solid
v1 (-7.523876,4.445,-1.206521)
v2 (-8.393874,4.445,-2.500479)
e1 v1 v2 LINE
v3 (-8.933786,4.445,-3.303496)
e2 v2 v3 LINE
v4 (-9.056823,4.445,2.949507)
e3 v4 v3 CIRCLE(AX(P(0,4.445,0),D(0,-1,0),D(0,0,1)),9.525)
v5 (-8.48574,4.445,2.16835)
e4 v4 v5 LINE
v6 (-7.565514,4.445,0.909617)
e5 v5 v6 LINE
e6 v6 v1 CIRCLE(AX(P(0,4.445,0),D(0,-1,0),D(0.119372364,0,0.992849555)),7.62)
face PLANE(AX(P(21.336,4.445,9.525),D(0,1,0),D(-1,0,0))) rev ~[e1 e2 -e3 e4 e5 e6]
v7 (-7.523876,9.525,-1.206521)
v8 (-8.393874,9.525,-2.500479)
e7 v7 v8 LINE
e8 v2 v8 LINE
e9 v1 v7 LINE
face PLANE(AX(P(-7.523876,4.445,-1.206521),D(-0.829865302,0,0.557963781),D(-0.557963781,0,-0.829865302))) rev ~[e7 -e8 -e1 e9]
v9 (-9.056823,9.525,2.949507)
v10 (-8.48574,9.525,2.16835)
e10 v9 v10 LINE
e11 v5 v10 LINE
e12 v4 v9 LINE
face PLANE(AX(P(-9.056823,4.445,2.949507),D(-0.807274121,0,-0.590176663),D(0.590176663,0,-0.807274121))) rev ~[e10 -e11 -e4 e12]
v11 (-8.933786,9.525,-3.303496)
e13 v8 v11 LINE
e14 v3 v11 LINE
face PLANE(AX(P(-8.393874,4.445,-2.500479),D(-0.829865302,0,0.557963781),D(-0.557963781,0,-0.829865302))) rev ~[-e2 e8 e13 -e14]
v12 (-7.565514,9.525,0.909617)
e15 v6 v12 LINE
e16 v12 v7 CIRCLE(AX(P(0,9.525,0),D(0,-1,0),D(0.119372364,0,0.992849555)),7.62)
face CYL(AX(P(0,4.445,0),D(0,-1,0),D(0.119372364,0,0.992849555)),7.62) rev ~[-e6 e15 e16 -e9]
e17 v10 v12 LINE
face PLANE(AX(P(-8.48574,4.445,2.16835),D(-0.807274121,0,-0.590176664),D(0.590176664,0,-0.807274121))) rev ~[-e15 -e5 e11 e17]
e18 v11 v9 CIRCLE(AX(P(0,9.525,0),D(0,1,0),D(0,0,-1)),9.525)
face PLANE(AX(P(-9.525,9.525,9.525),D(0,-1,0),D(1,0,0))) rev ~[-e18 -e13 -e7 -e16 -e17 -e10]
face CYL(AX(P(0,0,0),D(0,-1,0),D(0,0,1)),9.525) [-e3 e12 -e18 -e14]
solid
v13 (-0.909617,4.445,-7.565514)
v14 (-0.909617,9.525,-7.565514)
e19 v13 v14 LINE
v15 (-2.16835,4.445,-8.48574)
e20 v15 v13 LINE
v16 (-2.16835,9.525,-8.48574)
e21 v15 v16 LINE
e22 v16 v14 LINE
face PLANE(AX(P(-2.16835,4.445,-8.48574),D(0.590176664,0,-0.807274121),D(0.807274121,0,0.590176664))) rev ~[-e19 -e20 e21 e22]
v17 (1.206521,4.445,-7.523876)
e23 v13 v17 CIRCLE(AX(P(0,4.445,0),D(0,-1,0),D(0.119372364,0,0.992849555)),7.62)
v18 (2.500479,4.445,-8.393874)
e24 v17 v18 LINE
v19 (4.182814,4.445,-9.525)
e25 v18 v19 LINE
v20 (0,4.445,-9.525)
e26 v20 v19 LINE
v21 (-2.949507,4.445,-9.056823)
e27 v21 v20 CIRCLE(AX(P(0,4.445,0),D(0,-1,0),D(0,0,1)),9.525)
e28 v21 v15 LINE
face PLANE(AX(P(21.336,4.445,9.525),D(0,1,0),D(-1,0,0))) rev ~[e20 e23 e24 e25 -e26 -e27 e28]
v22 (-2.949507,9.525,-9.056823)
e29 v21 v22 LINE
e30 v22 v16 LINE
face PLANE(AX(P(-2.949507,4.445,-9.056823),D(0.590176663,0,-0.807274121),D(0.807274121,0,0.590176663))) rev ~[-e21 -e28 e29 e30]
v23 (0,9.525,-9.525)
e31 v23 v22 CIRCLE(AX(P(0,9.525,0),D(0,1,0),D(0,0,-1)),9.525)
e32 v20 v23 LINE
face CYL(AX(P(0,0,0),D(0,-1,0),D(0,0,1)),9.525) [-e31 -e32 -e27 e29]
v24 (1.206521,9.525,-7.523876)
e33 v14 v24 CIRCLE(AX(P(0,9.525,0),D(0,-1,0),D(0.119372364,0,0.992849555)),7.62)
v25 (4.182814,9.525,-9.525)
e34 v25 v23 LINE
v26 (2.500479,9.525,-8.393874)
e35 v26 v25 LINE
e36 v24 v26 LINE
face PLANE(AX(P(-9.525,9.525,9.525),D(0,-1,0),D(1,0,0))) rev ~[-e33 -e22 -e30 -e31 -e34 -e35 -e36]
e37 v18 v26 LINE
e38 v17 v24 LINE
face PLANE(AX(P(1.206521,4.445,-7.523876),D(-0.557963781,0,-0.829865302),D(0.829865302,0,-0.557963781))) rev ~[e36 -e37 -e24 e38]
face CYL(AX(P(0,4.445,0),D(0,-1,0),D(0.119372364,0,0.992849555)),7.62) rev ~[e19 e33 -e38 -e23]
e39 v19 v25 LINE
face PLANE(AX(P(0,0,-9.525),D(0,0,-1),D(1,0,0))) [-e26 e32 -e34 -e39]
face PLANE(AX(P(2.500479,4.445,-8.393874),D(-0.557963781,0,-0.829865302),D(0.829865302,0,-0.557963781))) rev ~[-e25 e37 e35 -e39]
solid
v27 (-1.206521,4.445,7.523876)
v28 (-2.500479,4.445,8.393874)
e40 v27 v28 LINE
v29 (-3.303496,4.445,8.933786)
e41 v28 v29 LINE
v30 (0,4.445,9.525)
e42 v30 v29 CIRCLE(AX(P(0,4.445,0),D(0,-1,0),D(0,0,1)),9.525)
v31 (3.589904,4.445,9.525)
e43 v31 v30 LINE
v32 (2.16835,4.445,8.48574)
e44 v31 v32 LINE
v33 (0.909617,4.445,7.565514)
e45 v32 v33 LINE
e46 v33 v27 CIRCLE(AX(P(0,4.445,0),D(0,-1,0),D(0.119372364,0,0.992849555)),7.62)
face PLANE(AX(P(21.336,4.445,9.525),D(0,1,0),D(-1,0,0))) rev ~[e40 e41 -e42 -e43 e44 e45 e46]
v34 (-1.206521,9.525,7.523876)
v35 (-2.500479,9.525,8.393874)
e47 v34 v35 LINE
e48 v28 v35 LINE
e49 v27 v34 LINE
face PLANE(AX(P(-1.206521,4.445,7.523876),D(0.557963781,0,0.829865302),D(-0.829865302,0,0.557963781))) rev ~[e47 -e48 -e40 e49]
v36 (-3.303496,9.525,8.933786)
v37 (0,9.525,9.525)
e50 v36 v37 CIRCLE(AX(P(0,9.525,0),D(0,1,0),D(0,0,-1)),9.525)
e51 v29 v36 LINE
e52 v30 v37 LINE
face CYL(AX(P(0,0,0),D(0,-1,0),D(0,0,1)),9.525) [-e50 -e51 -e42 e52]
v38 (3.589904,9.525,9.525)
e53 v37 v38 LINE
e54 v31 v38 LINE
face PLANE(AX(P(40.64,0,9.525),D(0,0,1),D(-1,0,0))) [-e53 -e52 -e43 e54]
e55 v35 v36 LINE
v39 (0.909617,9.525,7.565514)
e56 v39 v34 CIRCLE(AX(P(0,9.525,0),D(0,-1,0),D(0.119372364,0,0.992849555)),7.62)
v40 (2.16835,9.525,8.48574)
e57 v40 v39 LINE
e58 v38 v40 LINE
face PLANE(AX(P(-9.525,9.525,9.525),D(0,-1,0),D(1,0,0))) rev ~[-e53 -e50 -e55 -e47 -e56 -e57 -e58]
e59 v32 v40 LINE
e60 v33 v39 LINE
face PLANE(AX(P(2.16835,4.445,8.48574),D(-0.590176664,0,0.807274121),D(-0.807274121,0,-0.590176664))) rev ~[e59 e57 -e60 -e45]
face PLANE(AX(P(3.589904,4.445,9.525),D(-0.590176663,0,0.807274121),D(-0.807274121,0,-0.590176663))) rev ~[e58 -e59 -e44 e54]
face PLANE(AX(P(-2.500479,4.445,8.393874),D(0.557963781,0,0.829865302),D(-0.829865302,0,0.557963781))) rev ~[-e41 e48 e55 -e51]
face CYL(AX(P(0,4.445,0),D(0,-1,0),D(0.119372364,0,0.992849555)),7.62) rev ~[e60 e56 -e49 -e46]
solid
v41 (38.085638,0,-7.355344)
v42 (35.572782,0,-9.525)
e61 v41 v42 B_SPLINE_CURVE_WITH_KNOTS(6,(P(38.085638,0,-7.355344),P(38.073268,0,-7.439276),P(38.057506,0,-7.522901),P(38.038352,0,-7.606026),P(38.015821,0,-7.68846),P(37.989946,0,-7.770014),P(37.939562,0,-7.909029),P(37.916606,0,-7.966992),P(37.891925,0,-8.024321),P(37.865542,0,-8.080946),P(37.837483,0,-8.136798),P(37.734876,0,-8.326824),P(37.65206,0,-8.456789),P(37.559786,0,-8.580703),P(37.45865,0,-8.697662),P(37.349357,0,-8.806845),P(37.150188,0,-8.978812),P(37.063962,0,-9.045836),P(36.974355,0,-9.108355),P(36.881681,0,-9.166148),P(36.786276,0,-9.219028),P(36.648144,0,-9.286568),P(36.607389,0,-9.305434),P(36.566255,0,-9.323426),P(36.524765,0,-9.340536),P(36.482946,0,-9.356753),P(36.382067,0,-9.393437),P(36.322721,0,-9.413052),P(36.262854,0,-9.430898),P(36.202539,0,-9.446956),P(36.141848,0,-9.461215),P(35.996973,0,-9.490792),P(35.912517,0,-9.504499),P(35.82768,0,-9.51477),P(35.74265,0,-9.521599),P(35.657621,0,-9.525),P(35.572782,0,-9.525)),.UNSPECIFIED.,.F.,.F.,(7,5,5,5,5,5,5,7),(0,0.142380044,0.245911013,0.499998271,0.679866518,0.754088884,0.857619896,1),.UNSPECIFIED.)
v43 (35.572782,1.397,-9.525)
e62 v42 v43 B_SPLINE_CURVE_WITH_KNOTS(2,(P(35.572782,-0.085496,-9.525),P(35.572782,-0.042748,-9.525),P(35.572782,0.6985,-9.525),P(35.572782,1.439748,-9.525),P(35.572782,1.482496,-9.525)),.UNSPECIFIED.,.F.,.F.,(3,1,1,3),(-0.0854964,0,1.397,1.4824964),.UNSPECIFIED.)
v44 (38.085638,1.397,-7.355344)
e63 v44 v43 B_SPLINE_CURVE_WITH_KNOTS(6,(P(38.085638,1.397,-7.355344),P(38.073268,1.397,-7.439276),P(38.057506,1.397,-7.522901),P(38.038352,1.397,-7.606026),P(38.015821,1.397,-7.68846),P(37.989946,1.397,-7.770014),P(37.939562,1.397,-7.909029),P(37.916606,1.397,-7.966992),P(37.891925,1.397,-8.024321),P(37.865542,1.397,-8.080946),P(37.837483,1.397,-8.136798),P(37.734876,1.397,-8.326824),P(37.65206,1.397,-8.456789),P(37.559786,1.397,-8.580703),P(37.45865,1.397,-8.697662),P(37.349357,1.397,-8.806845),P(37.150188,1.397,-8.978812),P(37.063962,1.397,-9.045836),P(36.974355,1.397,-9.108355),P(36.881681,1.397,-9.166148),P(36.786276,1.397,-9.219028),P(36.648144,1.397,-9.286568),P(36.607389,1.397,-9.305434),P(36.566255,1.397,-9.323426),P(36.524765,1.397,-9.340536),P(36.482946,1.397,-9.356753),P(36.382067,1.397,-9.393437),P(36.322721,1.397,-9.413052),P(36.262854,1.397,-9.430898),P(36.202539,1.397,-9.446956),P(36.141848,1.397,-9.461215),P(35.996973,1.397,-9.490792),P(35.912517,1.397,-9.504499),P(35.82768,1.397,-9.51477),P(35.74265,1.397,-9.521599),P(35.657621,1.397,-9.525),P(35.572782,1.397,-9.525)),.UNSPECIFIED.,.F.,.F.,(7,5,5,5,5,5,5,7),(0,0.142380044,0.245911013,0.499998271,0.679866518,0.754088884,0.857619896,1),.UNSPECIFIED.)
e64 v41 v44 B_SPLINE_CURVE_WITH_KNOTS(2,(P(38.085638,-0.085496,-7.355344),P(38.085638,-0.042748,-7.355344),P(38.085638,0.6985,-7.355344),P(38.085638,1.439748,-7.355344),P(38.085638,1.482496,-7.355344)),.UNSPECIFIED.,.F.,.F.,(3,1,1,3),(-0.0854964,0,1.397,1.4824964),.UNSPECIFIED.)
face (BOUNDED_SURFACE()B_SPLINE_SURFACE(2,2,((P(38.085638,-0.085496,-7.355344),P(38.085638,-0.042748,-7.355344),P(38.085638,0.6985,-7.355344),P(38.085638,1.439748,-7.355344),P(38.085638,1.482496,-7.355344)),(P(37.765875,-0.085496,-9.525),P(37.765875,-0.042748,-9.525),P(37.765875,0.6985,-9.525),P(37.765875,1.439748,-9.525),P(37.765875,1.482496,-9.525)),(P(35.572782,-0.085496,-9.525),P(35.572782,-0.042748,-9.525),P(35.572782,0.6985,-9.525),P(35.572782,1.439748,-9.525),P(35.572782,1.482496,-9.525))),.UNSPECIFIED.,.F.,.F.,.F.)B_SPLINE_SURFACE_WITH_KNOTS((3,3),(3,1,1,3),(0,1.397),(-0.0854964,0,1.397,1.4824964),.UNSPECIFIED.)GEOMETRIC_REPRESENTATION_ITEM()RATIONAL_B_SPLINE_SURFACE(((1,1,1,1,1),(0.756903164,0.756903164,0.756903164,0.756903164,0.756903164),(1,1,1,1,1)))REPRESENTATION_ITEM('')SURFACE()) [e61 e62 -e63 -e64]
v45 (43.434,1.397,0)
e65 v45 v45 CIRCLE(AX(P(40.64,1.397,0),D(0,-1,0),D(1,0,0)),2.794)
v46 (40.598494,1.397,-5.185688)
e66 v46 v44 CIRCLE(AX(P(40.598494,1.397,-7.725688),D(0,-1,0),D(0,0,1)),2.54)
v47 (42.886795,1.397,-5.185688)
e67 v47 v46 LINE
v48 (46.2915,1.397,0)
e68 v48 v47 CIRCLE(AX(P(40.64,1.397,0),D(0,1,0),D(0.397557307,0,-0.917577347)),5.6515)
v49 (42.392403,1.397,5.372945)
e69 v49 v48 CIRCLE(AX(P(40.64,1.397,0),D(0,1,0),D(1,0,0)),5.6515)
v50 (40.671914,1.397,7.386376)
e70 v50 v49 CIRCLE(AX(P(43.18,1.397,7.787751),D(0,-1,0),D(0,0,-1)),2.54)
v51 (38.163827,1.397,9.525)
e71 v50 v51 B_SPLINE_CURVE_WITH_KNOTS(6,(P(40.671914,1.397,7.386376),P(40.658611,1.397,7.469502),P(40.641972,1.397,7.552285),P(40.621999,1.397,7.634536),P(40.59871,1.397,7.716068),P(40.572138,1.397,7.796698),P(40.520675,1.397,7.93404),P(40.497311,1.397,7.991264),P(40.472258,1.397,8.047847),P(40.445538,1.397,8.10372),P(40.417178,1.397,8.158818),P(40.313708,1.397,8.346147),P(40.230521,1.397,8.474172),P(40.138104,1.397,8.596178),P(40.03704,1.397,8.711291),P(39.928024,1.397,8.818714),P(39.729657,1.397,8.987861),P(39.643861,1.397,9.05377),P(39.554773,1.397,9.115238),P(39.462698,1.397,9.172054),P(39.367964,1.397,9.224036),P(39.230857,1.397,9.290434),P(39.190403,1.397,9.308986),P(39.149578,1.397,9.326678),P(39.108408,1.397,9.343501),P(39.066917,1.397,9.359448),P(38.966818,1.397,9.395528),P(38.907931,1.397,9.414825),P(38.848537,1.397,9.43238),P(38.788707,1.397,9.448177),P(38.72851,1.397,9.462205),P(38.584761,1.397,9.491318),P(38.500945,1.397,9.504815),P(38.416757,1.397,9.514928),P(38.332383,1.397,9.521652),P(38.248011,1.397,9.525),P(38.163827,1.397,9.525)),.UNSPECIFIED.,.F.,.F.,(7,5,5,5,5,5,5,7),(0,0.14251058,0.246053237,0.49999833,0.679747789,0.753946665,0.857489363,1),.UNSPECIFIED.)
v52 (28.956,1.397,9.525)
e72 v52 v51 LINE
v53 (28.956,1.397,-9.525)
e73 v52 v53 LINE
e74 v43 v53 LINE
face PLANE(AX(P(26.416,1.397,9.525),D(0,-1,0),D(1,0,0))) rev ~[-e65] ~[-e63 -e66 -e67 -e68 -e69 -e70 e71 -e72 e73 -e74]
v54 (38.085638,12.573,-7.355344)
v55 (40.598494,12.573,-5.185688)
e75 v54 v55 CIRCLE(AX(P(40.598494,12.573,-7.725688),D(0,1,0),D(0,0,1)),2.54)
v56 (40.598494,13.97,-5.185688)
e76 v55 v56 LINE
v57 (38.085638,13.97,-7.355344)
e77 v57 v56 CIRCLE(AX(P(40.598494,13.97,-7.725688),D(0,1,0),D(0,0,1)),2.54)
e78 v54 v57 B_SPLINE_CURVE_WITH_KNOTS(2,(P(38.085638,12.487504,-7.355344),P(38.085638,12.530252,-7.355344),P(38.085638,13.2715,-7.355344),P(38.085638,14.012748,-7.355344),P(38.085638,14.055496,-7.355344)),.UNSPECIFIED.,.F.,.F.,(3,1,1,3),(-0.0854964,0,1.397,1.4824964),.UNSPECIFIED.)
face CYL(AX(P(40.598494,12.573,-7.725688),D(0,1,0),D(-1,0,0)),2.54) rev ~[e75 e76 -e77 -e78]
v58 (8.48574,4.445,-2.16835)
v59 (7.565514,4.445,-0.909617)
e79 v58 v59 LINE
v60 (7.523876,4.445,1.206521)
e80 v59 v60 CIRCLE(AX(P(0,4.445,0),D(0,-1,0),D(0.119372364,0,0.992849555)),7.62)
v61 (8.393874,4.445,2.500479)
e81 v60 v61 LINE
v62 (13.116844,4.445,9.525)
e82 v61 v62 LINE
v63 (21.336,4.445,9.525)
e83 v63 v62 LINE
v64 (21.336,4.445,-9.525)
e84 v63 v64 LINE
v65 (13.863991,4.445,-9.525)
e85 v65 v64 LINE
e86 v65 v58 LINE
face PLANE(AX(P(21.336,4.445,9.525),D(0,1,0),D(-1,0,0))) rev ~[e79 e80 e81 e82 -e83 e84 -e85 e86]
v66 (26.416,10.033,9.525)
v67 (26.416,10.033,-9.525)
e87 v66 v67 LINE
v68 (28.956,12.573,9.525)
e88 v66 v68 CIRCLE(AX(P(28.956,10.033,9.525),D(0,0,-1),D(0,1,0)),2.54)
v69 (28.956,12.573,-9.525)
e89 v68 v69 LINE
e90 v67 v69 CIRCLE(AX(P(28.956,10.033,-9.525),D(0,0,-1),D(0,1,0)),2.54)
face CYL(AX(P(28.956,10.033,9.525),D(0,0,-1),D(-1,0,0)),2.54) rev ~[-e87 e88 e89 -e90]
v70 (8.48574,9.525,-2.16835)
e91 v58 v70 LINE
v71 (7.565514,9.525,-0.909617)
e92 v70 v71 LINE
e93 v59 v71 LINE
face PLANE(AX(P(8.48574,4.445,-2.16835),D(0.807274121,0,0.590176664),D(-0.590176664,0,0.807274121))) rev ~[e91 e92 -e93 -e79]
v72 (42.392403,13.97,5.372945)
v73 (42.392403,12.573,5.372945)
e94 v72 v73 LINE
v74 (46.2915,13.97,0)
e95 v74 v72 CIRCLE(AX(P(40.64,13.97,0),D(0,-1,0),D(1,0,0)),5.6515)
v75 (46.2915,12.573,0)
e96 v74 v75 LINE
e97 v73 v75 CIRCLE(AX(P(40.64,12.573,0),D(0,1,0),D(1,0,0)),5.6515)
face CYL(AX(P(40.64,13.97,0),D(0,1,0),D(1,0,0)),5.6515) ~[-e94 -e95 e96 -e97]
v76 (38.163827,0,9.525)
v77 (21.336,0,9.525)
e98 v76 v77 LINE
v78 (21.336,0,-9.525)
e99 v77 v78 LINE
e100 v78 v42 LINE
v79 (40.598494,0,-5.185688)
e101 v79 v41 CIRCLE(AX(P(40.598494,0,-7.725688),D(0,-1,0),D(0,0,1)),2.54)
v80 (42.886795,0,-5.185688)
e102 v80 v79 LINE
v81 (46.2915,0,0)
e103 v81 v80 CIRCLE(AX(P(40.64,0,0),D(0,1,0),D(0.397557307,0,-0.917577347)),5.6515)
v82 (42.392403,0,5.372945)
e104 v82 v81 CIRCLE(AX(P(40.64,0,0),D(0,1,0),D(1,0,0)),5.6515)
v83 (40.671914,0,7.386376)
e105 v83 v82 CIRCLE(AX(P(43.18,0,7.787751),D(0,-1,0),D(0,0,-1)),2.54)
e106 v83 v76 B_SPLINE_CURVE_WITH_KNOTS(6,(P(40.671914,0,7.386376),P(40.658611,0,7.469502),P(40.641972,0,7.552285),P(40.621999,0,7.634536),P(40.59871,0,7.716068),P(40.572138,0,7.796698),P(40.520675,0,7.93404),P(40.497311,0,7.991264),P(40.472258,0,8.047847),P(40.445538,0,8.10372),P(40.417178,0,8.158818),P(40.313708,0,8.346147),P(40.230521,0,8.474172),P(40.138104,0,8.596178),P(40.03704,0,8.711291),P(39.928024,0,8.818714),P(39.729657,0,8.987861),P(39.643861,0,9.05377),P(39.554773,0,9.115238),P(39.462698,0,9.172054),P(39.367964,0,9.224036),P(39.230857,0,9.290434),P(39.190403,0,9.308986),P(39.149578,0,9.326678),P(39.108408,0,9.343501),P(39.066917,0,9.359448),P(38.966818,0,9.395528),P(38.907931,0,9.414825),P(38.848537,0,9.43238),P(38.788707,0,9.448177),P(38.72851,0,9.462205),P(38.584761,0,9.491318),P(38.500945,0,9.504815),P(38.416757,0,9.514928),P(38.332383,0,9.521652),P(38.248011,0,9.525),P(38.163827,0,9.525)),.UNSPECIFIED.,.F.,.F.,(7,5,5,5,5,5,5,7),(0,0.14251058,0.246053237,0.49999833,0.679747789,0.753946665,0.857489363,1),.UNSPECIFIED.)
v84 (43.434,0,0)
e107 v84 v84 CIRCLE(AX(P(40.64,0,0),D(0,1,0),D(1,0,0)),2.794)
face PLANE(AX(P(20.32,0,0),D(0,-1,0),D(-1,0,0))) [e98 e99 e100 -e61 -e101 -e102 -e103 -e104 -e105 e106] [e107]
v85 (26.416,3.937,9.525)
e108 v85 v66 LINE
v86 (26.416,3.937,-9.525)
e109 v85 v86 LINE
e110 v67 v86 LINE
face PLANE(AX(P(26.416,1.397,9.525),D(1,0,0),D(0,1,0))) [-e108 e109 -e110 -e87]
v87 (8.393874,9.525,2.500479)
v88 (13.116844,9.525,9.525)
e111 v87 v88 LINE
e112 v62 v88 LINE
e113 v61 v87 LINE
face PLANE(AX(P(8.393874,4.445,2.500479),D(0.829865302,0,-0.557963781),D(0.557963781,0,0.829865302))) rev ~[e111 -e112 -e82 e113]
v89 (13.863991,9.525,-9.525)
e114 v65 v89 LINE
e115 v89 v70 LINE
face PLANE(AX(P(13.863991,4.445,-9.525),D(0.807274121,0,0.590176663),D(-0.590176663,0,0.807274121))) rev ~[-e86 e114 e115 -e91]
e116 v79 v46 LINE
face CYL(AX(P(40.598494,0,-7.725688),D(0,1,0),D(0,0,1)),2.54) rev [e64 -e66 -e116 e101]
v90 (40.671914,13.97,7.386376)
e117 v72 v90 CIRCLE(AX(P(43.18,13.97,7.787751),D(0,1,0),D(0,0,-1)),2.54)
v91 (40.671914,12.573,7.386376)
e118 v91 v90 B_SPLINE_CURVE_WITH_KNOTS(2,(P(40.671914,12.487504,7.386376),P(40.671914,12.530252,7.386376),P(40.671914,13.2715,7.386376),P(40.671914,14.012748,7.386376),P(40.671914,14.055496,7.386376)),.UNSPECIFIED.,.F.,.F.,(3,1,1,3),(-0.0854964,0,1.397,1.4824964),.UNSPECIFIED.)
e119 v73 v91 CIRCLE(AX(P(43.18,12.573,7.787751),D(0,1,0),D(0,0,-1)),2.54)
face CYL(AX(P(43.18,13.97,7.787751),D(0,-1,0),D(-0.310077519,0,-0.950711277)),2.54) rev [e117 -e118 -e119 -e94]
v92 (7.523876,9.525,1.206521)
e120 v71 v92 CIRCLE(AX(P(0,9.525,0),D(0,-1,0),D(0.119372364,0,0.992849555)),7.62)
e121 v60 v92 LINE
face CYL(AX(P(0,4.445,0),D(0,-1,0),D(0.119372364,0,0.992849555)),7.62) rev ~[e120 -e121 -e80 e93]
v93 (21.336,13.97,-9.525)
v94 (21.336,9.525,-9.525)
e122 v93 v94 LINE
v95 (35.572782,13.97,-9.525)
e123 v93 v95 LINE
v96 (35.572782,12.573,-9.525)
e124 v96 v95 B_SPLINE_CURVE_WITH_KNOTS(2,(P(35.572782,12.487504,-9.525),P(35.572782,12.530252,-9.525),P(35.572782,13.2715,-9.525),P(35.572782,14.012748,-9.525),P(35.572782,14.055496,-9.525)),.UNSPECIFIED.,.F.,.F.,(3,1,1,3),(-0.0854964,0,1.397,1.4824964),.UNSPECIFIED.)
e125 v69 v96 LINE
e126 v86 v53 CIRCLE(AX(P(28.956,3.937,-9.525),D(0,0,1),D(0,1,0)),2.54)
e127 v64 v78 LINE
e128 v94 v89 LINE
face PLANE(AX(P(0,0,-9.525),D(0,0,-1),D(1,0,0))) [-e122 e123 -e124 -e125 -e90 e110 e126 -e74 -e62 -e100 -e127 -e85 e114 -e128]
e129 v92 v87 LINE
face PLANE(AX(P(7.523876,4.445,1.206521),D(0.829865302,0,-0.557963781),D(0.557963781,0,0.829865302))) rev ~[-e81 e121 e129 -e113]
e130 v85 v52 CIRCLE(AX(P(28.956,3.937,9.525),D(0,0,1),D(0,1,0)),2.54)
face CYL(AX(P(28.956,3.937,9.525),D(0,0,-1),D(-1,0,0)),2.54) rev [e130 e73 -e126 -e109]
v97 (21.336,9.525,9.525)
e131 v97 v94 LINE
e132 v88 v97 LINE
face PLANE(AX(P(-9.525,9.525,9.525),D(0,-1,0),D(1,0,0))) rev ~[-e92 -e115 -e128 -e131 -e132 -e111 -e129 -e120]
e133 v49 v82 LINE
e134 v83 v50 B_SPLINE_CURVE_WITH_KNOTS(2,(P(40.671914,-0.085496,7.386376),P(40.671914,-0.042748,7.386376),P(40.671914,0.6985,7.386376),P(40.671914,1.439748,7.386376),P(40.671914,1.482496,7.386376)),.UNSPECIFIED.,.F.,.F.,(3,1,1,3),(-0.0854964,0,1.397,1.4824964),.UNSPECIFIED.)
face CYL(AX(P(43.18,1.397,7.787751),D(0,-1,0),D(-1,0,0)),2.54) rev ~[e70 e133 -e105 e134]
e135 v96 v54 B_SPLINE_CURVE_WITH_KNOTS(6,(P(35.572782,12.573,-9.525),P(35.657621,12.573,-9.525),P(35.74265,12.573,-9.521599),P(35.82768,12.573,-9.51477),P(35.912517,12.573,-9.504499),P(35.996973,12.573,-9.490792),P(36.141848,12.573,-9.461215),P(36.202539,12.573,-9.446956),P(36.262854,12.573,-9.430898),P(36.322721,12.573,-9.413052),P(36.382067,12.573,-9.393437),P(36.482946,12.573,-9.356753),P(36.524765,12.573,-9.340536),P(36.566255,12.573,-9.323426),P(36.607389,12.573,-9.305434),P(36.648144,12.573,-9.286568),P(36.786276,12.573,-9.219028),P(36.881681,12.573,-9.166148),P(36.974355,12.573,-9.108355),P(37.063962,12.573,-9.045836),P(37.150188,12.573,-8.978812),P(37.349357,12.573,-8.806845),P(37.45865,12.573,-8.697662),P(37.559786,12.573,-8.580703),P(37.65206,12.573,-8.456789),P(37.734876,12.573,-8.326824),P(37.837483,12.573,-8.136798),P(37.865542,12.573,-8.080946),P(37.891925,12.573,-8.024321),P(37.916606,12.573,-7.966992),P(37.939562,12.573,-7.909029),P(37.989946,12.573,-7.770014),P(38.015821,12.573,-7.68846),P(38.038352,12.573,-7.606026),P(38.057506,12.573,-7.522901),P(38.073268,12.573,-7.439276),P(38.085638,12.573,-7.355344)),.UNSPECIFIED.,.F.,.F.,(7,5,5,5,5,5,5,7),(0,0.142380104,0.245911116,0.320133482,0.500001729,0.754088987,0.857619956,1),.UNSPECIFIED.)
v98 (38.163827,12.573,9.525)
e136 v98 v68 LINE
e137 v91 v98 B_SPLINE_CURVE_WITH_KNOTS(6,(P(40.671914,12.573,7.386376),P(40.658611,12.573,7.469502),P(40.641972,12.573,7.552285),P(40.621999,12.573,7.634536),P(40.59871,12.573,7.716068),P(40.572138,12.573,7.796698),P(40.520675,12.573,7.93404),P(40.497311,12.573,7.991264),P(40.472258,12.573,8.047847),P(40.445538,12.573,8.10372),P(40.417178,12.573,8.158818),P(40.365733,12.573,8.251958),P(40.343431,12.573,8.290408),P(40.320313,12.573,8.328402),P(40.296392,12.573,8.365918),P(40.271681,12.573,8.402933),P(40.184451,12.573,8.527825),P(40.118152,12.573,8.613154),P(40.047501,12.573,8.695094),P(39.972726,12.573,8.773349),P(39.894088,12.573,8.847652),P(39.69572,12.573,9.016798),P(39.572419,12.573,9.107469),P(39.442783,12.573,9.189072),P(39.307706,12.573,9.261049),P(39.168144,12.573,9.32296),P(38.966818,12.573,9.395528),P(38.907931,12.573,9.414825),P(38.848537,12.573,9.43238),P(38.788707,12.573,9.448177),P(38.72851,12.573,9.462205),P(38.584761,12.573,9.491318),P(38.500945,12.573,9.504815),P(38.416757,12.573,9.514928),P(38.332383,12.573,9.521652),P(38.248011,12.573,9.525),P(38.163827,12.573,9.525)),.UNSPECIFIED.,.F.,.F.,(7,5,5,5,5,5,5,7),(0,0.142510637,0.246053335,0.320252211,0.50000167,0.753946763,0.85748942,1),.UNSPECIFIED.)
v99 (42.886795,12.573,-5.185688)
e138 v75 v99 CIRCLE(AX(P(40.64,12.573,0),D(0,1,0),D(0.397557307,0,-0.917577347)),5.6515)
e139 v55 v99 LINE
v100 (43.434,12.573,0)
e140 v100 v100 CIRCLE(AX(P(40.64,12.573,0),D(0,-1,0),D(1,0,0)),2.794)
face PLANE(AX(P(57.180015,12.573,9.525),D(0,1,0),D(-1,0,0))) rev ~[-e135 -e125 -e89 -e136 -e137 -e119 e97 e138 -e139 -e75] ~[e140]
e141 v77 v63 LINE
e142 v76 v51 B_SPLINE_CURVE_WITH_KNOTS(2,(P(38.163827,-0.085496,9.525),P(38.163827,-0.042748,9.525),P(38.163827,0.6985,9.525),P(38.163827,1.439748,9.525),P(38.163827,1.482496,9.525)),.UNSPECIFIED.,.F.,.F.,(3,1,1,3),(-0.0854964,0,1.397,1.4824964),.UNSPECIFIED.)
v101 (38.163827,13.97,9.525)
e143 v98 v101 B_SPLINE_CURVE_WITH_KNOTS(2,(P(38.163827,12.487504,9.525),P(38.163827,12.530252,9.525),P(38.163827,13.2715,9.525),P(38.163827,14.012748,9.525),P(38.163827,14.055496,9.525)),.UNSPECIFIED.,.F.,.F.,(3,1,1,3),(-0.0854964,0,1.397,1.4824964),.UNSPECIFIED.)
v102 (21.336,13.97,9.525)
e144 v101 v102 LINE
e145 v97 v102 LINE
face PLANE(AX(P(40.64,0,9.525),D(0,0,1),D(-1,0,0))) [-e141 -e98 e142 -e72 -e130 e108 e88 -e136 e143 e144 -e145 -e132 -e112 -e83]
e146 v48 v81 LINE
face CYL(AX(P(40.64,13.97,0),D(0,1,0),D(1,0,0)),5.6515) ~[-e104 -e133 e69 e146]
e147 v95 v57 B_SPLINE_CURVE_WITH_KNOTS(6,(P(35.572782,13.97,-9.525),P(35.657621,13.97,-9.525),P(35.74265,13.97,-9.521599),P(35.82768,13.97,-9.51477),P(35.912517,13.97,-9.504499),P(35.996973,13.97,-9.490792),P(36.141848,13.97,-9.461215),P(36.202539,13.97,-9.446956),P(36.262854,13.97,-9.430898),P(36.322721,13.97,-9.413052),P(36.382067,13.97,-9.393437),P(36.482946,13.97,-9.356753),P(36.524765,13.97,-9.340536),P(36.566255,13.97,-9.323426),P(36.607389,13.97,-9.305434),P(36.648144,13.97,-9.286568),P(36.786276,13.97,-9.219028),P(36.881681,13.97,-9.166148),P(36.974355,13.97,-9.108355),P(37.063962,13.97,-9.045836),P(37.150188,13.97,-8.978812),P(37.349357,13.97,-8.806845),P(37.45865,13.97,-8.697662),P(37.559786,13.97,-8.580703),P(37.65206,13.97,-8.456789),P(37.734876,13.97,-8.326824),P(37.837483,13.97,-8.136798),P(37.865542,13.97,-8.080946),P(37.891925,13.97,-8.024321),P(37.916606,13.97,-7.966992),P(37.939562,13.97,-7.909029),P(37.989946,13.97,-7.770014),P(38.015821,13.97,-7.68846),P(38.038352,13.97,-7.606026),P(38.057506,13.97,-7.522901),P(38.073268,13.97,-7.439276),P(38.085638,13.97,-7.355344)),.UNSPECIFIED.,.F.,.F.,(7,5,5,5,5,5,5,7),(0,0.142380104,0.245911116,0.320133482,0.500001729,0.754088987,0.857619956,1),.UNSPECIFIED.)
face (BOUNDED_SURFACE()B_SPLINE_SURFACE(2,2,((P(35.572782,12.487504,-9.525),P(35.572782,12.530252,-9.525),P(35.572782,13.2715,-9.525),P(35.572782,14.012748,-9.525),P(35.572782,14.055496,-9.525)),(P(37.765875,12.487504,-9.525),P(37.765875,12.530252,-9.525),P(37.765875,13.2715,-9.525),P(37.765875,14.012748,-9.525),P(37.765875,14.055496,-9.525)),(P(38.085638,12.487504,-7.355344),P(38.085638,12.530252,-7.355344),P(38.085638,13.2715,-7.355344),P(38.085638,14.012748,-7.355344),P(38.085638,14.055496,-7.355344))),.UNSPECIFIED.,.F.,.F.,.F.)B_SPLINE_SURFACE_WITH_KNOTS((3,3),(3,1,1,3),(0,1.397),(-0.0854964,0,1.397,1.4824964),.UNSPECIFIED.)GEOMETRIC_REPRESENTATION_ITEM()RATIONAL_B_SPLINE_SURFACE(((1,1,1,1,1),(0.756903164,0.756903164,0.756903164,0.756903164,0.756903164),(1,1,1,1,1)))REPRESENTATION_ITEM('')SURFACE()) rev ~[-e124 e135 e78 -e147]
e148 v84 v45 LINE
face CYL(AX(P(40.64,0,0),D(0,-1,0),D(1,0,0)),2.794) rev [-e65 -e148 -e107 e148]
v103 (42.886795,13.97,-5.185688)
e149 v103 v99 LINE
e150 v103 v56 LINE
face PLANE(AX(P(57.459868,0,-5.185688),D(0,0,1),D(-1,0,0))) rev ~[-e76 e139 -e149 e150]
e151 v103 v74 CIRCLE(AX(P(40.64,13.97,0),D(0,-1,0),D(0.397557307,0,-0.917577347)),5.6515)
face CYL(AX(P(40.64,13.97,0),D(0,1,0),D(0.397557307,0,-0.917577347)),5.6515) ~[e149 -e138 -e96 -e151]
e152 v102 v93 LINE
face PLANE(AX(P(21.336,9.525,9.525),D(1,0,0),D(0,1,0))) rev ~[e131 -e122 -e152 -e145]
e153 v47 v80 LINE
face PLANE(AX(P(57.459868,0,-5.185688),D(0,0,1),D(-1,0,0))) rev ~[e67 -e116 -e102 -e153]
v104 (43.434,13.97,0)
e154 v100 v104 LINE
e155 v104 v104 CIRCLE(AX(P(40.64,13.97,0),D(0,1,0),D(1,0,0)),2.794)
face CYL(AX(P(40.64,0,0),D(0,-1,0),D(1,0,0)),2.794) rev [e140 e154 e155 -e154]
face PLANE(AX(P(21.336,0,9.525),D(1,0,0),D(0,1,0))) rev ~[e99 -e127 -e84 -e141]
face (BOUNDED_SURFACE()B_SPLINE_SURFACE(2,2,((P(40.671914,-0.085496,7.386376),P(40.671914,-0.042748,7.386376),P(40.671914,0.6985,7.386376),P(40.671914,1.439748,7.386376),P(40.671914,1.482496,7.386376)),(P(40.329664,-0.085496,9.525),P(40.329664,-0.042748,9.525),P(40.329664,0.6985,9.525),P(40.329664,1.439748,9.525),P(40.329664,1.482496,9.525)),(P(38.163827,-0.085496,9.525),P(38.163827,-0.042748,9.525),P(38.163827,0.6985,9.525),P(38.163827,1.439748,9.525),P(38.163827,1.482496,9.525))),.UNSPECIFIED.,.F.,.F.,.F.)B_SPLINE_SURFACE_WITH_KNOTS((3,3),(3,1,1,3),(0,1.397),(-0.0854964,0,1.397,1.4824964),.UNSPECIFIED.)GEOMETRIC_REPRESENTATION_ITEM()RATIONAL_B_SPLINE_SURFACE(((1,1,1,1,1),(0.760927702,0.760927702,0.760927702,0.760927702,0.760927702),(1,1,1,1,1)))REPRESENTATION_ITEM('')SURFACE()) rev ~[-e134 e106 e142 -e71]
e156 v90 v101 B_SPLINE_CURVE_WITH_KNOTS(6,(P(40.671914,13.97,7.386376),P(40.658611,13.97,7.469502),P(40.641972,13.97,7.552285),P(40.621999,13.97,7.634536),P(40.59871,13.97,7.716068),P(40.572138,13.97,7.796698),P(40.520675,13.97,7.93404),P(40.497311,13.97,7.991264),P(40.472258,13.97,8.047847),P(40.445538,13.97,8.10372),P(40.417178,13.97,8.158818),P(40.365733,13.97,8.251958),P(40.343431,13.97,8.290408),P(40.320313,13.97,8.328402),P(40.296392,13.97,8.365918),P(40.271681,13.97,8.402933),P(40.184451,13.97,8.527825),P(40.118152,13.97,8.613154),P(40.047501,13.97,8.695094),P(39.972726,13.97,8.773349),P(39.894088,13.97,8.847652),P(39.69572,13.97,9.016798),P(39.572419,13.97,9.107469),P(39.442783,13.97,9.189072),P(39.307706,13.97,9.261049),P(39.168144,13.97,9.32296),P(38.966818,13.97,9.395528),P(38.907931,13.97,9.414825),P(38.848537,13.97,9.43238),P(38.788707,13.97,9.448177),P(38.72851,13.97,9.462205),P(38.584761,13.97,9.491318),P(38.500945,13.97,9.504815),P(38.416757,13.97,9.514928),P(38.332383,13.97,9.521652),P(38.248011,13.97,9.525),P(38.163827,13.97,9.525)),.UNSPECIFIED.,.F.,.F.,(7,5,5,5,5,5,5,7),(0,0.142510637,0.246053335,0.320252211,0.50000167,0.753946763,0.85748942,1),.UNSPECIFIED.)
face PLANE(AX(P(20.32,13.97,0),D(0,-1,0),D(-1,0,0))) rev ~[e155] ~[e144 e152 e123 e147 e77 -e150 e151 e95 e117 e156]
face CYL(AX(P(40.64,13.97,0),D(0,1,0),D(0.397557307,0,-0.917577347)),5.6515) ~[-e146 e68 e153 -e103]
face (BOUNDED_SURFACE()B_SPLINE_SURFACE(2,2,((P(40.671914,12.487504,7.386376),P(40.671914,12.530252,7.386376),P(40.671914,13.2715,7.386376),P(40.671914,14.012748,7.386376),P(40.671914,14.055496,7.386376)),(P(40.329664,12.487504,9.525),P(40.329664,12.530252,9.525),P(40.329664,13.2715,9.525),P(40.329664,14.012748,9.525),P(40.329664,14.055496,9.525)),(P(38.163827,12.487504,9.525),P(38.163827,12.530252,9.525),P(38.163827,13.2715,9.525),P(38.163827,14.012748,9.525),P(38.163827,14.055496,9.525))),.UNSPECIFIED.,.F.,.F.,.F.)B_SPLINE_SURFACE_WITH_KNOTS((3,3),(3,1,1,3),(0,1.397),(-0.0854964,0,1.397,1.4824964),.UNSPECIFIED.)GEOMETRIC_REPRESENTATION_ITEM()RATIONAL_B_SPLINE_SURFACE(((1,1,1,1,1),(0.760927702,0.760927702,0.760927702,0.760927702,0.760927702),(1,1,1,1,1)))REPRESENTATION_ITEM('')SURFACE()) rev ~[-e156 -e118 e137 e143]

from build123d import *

# Parameters (mm, degrees)
SKETCH1_R           = 3.175
SKETCH1_R_2         = 2.794
BOSS_EXTRUDE1_DEPTH = 13.97
SKETCH4_W           = 16.540015352
SKETCH4_H           = 11.176
SKETCH4_W_2         = 14.224
SKETCH4_W_3         = 21.336
SKETCH4_H_2         = 4.445
SKETCH4_W_4         = 9.525
CUT_EXTRUDE1_DEPTH  = 20.05
SKETCH5_W           = 19.401373877
SKETCH5_H           = 12.180650093
CUT_EXTRUDE2_DEPTH  = 14.97
CUT_EXTRUDE3_DEPTH  = 14.97
FILLET1_R           = 2.54
FILLET2_R           = 2.54
FILLET3_R           = 2.54
FILLET4_R           = 2.54
FILLET5_R           = 2.54
FILLET6_R           = 2.54
SKETCH7_R           = 7.62
SKETCH7_R_2         = 4.572
SKETCH7_R_3         = 3.175
CUT_EXTRUDE4_DEPTH  = 5.08
FILLET7_R           = 2.54
FILLET8_R           = 2.54


with BuildPart() as part:
    # Sketch1 → Boss-Extrude1 (new body)
    with BuildSketch(Plane(origin=(0, 0, 0), x_dir=(1, 0, 0), z_dir=(0, 1, 0))):
        with BuildLine():
            Line((0, 9.525), (40.64, 9.525))
            ThreePointArc((40.64, 9.525), (50.165, 0), (40.64, -9.525))
            Line((40.64, -9.525), (0, -9.525))
            ThreePointArc((0, -9.525), (-9.525, 0), (0, 9.525))
        make_face()
        Circle(SKETCH1_R, mode=Mode.SUBTRACT)
        with Locations((40.64, 0)):
            Circle(SKETCH1_R_2, mode=Mode.SUBTRACT)
    extrude(amount=BOSS_EXTRUDE1_DEPTH)

    # Sketch4 → Cut-Extrude1 (cut, through all)
    with BuildSketch(Plane.XY.offset(9.525)):
        with Locations((48.910007676, 6.985)):
            Rectangle(SKETCH4_W, SKETCH4_H)
        with Locations((33.528, 6.985)):
            Rectangle(SKETCH4_W_2, SKETCH4_H)
        with Locations((10.668, 2.2225)):
            Rectangle(SKETCH4_W_3, SKETCH4_H_2)
        with Locations((-4.7625, 2.2225)):
            Rectangle(SKETCH4_W_4, SKETCH4_H_2)
        with Locations((10.668, 11.7475)):
            Rectangle(SKETCH4_W_3, SKETCH4_H_2)
        with Locations((-4.7625, 11.7475)):
            Rectangle(SKETCH4_W_4, SKETCH4_H_2)
    extrude(amount=-CUT_EXTRUDE1_DEPTH, mode=Mode.SUBTRACT)

    # Sketch5 → Cut-Extrude2 (cut, through all)
    with BuildSketch(Plane(origin=(0, 0, 0), x_dir=(-1, 0, 0), z_dir=(0, -1, 0))):
        with Locations((-47.75918095, 11.276013422)):
            Rectangle(SKETCH5_W, SKETCH5_H)
    extrude(amount=-CUT_EXTRUDE2_DEPTH, mode=Mode.SUBTRACT)

    # Sketch6 → Cut-Extrude3 (cut, through all)
    with BuildSketch(Plane(origin=(0, 13.97, 0), x_dir=(1, 0, 0), z_dir=(0, 1, 0))):
        with BuildLine():
            ThreePointArc((46.2915, 0), (44.636213974, -3.996213974), (40.64, -5.6515))
            Line((40.64, -5.6515), (40.64, -9.525))
            ThreePointArc((40.64, -9.525), (49.010164478, -4.545984119), (48.629634602, 5.185688375))
            Line((48.629634602, 5.185688375), (42.886795123, 5.185688375))
            ThreePointArc((42.886795123, 5.185688375), (45.364257343, 3.101748669), (46.2915, 0))
        make_face()
    extrude(amount=-CUT_EXTRUDE3_DEPTH, mode=Mode.SUBTRACT)

    # Fillet1
    fillet1_edges = [part.edges().sort_by_distance(p)[0] for p in [
        (40.64, 13.2715, 5.6515),
    ]]
    fillet(fillet1_edges, radius=FILLET1_R)

    # Fillet2
    fillet2_edges = [part.edges().sort_by_distance(p)[0] for p in [
        (40.64, 13.2715, 9.525),
    ]]
    fillet(fillet2_edges, radius=FILLET2_R)

    # Fillet3
    fillet3_edges = [part.edges().sort_by_distance(p)[0] for p in [
        (40.64, 0.6985, 5.6515),
    ]]
    fillet(fillet3_edges, radius=FILLET3_R)

    # Fillet4
    fillet4_edges = [part.edges().sort_by_distance(p)[0] for p in [
        (40.64, 0.6985, 9.525),
    ]]
    fillet(fillet4_edges, radius=FILLET4_R)

    # Fillet5
    fillet5_edges = [part.edges().sort_by_distance(p)[0] for p in [
        (38.058494011, 0.6985, -5.185688375),
        (38.058494011, 13.2715, -5.185688375),
    ]]
    fillet(fillet5_edges, radius=FILLET5_R)

    # Fillet6
    fillet6_edges = [part.edges().sort_by_distance(p)[0] for p in [
        (38.058494011, 0.6985, -9.525),
        (38.058494011, 13.2715, -9.525),
    ]]
    fillet(fillet6_edges, radius=FILLET6_R)

    # Sketch7 → Cut-Extrude4 (cut)
    with BuildSketch(Plane.XZ.offset(-4.445)):
        Circle(SKETCH7_R)
        Circle(SKETCH7_R_2, mode=Mode.SUBTRACT)
        Circle(SKETCH7_R_2)
        Circle(SKETCH7_R_3, mode=Mode.SUBTRACT)
        with BuildLine():
            Line((2.168350381, 8.48573984), (0.909617415, 7.565513608))
            ThreePointArc((0.909617415, 7.565513608), (5.281112414, 5.493109472), (7.523875786, 1.206521096))
            Line((7.523875786, 1.206521096), (8.393874448, 2.500479103))
            Line((8.393874448, 2.500479103), (13.116843625, 9.525))
            Line((13.116843625, 9.525), (3.589904102, 9.525))
            Line((3.589904102, 9.525), (2.168350381, 8.48573984))
        make_face()
        with BuildLine():
            Line((8.48573984, -2.168350381), (7.565513608, -0.909617415))
            ThreePointArc((7.565513608, -0.909617415), (5.493109472, -5.281112414), (1.206521096, -7.523875786))
            Line((1.206521096, -7.523875786), (2.500479103, -8.393874448))
            Line((2.500479103, -8.393874448), (4.182813833, -9.525))
            Line((4.182813833, -9.525), (13.863990937, -9.525))
            Line((13.863990937, -9.525), (8.48573984, -2.168350381))
        make_face()
        with BuildLine():
            Line((-8.393874448, -2.500479103), (-8.933786454, -3.303495813))
            ThreePointArc((-8.933786454, -3.303495813), (-6.601390518, -6.866386839), (-2.949506801, -9.056822546))
            Line((-2.949506801, -9.056822546), (-2.168350381, -8.48573984))
            Line((-2.168350381, -8.48573984), (-0.909617415, -7.565513608))
            ThreePointArc((-0.909617415, -7.565513608), (-5.281112414, -5.493109472), (-7.523875786, -1.206521096))
            Line((-7.523875786, -1.206521096), (-8.393874448, -2.500479103))
        make_face()
        with BuildLine():
            Line((-1.206521096, 7.523875786), (-2.500479103, 8.393874448))
            Line((-2.500479103, 8.393874448), (-3.303495813, 8.933786454))
            ThreePointArc((-3.303495813, 8.933786454), (-6.866386839, 6.601390518), (-9.056822546, 2.949506801))
            Line((-9.056822546, 2.949506801), (-8.48573984, 2.168350381))
            Line((-8.48573984, 2.168350381), (-7.565513608, 0.909617415))
            ThreePointArc((-7.565513608, 0.909617415), (-5.493109472, 5.281112414), (-1.206521096, 7.523875786))
        make_face()
    extrude(amount=-CUT_EXTRUDE4_DEPTH, mode=Mode.SUBTRACT)

    # Fillet7
    fillet7_edges = [part.edges().sort_by_distance(p)[0] for p in [
        (26.416, 12.573, 0),
    ]]
    fillet(fillet7_edges, radius=FILLET7_R)

    # Fillet8
    fillet8_edges = [part.edges().sort_by_distance(p)[0] for p in [
        (26.416, 1.397, 0),
    ]]
    fillet(fillet8_edges, radius=FILLET8_R)


solid = part.part
